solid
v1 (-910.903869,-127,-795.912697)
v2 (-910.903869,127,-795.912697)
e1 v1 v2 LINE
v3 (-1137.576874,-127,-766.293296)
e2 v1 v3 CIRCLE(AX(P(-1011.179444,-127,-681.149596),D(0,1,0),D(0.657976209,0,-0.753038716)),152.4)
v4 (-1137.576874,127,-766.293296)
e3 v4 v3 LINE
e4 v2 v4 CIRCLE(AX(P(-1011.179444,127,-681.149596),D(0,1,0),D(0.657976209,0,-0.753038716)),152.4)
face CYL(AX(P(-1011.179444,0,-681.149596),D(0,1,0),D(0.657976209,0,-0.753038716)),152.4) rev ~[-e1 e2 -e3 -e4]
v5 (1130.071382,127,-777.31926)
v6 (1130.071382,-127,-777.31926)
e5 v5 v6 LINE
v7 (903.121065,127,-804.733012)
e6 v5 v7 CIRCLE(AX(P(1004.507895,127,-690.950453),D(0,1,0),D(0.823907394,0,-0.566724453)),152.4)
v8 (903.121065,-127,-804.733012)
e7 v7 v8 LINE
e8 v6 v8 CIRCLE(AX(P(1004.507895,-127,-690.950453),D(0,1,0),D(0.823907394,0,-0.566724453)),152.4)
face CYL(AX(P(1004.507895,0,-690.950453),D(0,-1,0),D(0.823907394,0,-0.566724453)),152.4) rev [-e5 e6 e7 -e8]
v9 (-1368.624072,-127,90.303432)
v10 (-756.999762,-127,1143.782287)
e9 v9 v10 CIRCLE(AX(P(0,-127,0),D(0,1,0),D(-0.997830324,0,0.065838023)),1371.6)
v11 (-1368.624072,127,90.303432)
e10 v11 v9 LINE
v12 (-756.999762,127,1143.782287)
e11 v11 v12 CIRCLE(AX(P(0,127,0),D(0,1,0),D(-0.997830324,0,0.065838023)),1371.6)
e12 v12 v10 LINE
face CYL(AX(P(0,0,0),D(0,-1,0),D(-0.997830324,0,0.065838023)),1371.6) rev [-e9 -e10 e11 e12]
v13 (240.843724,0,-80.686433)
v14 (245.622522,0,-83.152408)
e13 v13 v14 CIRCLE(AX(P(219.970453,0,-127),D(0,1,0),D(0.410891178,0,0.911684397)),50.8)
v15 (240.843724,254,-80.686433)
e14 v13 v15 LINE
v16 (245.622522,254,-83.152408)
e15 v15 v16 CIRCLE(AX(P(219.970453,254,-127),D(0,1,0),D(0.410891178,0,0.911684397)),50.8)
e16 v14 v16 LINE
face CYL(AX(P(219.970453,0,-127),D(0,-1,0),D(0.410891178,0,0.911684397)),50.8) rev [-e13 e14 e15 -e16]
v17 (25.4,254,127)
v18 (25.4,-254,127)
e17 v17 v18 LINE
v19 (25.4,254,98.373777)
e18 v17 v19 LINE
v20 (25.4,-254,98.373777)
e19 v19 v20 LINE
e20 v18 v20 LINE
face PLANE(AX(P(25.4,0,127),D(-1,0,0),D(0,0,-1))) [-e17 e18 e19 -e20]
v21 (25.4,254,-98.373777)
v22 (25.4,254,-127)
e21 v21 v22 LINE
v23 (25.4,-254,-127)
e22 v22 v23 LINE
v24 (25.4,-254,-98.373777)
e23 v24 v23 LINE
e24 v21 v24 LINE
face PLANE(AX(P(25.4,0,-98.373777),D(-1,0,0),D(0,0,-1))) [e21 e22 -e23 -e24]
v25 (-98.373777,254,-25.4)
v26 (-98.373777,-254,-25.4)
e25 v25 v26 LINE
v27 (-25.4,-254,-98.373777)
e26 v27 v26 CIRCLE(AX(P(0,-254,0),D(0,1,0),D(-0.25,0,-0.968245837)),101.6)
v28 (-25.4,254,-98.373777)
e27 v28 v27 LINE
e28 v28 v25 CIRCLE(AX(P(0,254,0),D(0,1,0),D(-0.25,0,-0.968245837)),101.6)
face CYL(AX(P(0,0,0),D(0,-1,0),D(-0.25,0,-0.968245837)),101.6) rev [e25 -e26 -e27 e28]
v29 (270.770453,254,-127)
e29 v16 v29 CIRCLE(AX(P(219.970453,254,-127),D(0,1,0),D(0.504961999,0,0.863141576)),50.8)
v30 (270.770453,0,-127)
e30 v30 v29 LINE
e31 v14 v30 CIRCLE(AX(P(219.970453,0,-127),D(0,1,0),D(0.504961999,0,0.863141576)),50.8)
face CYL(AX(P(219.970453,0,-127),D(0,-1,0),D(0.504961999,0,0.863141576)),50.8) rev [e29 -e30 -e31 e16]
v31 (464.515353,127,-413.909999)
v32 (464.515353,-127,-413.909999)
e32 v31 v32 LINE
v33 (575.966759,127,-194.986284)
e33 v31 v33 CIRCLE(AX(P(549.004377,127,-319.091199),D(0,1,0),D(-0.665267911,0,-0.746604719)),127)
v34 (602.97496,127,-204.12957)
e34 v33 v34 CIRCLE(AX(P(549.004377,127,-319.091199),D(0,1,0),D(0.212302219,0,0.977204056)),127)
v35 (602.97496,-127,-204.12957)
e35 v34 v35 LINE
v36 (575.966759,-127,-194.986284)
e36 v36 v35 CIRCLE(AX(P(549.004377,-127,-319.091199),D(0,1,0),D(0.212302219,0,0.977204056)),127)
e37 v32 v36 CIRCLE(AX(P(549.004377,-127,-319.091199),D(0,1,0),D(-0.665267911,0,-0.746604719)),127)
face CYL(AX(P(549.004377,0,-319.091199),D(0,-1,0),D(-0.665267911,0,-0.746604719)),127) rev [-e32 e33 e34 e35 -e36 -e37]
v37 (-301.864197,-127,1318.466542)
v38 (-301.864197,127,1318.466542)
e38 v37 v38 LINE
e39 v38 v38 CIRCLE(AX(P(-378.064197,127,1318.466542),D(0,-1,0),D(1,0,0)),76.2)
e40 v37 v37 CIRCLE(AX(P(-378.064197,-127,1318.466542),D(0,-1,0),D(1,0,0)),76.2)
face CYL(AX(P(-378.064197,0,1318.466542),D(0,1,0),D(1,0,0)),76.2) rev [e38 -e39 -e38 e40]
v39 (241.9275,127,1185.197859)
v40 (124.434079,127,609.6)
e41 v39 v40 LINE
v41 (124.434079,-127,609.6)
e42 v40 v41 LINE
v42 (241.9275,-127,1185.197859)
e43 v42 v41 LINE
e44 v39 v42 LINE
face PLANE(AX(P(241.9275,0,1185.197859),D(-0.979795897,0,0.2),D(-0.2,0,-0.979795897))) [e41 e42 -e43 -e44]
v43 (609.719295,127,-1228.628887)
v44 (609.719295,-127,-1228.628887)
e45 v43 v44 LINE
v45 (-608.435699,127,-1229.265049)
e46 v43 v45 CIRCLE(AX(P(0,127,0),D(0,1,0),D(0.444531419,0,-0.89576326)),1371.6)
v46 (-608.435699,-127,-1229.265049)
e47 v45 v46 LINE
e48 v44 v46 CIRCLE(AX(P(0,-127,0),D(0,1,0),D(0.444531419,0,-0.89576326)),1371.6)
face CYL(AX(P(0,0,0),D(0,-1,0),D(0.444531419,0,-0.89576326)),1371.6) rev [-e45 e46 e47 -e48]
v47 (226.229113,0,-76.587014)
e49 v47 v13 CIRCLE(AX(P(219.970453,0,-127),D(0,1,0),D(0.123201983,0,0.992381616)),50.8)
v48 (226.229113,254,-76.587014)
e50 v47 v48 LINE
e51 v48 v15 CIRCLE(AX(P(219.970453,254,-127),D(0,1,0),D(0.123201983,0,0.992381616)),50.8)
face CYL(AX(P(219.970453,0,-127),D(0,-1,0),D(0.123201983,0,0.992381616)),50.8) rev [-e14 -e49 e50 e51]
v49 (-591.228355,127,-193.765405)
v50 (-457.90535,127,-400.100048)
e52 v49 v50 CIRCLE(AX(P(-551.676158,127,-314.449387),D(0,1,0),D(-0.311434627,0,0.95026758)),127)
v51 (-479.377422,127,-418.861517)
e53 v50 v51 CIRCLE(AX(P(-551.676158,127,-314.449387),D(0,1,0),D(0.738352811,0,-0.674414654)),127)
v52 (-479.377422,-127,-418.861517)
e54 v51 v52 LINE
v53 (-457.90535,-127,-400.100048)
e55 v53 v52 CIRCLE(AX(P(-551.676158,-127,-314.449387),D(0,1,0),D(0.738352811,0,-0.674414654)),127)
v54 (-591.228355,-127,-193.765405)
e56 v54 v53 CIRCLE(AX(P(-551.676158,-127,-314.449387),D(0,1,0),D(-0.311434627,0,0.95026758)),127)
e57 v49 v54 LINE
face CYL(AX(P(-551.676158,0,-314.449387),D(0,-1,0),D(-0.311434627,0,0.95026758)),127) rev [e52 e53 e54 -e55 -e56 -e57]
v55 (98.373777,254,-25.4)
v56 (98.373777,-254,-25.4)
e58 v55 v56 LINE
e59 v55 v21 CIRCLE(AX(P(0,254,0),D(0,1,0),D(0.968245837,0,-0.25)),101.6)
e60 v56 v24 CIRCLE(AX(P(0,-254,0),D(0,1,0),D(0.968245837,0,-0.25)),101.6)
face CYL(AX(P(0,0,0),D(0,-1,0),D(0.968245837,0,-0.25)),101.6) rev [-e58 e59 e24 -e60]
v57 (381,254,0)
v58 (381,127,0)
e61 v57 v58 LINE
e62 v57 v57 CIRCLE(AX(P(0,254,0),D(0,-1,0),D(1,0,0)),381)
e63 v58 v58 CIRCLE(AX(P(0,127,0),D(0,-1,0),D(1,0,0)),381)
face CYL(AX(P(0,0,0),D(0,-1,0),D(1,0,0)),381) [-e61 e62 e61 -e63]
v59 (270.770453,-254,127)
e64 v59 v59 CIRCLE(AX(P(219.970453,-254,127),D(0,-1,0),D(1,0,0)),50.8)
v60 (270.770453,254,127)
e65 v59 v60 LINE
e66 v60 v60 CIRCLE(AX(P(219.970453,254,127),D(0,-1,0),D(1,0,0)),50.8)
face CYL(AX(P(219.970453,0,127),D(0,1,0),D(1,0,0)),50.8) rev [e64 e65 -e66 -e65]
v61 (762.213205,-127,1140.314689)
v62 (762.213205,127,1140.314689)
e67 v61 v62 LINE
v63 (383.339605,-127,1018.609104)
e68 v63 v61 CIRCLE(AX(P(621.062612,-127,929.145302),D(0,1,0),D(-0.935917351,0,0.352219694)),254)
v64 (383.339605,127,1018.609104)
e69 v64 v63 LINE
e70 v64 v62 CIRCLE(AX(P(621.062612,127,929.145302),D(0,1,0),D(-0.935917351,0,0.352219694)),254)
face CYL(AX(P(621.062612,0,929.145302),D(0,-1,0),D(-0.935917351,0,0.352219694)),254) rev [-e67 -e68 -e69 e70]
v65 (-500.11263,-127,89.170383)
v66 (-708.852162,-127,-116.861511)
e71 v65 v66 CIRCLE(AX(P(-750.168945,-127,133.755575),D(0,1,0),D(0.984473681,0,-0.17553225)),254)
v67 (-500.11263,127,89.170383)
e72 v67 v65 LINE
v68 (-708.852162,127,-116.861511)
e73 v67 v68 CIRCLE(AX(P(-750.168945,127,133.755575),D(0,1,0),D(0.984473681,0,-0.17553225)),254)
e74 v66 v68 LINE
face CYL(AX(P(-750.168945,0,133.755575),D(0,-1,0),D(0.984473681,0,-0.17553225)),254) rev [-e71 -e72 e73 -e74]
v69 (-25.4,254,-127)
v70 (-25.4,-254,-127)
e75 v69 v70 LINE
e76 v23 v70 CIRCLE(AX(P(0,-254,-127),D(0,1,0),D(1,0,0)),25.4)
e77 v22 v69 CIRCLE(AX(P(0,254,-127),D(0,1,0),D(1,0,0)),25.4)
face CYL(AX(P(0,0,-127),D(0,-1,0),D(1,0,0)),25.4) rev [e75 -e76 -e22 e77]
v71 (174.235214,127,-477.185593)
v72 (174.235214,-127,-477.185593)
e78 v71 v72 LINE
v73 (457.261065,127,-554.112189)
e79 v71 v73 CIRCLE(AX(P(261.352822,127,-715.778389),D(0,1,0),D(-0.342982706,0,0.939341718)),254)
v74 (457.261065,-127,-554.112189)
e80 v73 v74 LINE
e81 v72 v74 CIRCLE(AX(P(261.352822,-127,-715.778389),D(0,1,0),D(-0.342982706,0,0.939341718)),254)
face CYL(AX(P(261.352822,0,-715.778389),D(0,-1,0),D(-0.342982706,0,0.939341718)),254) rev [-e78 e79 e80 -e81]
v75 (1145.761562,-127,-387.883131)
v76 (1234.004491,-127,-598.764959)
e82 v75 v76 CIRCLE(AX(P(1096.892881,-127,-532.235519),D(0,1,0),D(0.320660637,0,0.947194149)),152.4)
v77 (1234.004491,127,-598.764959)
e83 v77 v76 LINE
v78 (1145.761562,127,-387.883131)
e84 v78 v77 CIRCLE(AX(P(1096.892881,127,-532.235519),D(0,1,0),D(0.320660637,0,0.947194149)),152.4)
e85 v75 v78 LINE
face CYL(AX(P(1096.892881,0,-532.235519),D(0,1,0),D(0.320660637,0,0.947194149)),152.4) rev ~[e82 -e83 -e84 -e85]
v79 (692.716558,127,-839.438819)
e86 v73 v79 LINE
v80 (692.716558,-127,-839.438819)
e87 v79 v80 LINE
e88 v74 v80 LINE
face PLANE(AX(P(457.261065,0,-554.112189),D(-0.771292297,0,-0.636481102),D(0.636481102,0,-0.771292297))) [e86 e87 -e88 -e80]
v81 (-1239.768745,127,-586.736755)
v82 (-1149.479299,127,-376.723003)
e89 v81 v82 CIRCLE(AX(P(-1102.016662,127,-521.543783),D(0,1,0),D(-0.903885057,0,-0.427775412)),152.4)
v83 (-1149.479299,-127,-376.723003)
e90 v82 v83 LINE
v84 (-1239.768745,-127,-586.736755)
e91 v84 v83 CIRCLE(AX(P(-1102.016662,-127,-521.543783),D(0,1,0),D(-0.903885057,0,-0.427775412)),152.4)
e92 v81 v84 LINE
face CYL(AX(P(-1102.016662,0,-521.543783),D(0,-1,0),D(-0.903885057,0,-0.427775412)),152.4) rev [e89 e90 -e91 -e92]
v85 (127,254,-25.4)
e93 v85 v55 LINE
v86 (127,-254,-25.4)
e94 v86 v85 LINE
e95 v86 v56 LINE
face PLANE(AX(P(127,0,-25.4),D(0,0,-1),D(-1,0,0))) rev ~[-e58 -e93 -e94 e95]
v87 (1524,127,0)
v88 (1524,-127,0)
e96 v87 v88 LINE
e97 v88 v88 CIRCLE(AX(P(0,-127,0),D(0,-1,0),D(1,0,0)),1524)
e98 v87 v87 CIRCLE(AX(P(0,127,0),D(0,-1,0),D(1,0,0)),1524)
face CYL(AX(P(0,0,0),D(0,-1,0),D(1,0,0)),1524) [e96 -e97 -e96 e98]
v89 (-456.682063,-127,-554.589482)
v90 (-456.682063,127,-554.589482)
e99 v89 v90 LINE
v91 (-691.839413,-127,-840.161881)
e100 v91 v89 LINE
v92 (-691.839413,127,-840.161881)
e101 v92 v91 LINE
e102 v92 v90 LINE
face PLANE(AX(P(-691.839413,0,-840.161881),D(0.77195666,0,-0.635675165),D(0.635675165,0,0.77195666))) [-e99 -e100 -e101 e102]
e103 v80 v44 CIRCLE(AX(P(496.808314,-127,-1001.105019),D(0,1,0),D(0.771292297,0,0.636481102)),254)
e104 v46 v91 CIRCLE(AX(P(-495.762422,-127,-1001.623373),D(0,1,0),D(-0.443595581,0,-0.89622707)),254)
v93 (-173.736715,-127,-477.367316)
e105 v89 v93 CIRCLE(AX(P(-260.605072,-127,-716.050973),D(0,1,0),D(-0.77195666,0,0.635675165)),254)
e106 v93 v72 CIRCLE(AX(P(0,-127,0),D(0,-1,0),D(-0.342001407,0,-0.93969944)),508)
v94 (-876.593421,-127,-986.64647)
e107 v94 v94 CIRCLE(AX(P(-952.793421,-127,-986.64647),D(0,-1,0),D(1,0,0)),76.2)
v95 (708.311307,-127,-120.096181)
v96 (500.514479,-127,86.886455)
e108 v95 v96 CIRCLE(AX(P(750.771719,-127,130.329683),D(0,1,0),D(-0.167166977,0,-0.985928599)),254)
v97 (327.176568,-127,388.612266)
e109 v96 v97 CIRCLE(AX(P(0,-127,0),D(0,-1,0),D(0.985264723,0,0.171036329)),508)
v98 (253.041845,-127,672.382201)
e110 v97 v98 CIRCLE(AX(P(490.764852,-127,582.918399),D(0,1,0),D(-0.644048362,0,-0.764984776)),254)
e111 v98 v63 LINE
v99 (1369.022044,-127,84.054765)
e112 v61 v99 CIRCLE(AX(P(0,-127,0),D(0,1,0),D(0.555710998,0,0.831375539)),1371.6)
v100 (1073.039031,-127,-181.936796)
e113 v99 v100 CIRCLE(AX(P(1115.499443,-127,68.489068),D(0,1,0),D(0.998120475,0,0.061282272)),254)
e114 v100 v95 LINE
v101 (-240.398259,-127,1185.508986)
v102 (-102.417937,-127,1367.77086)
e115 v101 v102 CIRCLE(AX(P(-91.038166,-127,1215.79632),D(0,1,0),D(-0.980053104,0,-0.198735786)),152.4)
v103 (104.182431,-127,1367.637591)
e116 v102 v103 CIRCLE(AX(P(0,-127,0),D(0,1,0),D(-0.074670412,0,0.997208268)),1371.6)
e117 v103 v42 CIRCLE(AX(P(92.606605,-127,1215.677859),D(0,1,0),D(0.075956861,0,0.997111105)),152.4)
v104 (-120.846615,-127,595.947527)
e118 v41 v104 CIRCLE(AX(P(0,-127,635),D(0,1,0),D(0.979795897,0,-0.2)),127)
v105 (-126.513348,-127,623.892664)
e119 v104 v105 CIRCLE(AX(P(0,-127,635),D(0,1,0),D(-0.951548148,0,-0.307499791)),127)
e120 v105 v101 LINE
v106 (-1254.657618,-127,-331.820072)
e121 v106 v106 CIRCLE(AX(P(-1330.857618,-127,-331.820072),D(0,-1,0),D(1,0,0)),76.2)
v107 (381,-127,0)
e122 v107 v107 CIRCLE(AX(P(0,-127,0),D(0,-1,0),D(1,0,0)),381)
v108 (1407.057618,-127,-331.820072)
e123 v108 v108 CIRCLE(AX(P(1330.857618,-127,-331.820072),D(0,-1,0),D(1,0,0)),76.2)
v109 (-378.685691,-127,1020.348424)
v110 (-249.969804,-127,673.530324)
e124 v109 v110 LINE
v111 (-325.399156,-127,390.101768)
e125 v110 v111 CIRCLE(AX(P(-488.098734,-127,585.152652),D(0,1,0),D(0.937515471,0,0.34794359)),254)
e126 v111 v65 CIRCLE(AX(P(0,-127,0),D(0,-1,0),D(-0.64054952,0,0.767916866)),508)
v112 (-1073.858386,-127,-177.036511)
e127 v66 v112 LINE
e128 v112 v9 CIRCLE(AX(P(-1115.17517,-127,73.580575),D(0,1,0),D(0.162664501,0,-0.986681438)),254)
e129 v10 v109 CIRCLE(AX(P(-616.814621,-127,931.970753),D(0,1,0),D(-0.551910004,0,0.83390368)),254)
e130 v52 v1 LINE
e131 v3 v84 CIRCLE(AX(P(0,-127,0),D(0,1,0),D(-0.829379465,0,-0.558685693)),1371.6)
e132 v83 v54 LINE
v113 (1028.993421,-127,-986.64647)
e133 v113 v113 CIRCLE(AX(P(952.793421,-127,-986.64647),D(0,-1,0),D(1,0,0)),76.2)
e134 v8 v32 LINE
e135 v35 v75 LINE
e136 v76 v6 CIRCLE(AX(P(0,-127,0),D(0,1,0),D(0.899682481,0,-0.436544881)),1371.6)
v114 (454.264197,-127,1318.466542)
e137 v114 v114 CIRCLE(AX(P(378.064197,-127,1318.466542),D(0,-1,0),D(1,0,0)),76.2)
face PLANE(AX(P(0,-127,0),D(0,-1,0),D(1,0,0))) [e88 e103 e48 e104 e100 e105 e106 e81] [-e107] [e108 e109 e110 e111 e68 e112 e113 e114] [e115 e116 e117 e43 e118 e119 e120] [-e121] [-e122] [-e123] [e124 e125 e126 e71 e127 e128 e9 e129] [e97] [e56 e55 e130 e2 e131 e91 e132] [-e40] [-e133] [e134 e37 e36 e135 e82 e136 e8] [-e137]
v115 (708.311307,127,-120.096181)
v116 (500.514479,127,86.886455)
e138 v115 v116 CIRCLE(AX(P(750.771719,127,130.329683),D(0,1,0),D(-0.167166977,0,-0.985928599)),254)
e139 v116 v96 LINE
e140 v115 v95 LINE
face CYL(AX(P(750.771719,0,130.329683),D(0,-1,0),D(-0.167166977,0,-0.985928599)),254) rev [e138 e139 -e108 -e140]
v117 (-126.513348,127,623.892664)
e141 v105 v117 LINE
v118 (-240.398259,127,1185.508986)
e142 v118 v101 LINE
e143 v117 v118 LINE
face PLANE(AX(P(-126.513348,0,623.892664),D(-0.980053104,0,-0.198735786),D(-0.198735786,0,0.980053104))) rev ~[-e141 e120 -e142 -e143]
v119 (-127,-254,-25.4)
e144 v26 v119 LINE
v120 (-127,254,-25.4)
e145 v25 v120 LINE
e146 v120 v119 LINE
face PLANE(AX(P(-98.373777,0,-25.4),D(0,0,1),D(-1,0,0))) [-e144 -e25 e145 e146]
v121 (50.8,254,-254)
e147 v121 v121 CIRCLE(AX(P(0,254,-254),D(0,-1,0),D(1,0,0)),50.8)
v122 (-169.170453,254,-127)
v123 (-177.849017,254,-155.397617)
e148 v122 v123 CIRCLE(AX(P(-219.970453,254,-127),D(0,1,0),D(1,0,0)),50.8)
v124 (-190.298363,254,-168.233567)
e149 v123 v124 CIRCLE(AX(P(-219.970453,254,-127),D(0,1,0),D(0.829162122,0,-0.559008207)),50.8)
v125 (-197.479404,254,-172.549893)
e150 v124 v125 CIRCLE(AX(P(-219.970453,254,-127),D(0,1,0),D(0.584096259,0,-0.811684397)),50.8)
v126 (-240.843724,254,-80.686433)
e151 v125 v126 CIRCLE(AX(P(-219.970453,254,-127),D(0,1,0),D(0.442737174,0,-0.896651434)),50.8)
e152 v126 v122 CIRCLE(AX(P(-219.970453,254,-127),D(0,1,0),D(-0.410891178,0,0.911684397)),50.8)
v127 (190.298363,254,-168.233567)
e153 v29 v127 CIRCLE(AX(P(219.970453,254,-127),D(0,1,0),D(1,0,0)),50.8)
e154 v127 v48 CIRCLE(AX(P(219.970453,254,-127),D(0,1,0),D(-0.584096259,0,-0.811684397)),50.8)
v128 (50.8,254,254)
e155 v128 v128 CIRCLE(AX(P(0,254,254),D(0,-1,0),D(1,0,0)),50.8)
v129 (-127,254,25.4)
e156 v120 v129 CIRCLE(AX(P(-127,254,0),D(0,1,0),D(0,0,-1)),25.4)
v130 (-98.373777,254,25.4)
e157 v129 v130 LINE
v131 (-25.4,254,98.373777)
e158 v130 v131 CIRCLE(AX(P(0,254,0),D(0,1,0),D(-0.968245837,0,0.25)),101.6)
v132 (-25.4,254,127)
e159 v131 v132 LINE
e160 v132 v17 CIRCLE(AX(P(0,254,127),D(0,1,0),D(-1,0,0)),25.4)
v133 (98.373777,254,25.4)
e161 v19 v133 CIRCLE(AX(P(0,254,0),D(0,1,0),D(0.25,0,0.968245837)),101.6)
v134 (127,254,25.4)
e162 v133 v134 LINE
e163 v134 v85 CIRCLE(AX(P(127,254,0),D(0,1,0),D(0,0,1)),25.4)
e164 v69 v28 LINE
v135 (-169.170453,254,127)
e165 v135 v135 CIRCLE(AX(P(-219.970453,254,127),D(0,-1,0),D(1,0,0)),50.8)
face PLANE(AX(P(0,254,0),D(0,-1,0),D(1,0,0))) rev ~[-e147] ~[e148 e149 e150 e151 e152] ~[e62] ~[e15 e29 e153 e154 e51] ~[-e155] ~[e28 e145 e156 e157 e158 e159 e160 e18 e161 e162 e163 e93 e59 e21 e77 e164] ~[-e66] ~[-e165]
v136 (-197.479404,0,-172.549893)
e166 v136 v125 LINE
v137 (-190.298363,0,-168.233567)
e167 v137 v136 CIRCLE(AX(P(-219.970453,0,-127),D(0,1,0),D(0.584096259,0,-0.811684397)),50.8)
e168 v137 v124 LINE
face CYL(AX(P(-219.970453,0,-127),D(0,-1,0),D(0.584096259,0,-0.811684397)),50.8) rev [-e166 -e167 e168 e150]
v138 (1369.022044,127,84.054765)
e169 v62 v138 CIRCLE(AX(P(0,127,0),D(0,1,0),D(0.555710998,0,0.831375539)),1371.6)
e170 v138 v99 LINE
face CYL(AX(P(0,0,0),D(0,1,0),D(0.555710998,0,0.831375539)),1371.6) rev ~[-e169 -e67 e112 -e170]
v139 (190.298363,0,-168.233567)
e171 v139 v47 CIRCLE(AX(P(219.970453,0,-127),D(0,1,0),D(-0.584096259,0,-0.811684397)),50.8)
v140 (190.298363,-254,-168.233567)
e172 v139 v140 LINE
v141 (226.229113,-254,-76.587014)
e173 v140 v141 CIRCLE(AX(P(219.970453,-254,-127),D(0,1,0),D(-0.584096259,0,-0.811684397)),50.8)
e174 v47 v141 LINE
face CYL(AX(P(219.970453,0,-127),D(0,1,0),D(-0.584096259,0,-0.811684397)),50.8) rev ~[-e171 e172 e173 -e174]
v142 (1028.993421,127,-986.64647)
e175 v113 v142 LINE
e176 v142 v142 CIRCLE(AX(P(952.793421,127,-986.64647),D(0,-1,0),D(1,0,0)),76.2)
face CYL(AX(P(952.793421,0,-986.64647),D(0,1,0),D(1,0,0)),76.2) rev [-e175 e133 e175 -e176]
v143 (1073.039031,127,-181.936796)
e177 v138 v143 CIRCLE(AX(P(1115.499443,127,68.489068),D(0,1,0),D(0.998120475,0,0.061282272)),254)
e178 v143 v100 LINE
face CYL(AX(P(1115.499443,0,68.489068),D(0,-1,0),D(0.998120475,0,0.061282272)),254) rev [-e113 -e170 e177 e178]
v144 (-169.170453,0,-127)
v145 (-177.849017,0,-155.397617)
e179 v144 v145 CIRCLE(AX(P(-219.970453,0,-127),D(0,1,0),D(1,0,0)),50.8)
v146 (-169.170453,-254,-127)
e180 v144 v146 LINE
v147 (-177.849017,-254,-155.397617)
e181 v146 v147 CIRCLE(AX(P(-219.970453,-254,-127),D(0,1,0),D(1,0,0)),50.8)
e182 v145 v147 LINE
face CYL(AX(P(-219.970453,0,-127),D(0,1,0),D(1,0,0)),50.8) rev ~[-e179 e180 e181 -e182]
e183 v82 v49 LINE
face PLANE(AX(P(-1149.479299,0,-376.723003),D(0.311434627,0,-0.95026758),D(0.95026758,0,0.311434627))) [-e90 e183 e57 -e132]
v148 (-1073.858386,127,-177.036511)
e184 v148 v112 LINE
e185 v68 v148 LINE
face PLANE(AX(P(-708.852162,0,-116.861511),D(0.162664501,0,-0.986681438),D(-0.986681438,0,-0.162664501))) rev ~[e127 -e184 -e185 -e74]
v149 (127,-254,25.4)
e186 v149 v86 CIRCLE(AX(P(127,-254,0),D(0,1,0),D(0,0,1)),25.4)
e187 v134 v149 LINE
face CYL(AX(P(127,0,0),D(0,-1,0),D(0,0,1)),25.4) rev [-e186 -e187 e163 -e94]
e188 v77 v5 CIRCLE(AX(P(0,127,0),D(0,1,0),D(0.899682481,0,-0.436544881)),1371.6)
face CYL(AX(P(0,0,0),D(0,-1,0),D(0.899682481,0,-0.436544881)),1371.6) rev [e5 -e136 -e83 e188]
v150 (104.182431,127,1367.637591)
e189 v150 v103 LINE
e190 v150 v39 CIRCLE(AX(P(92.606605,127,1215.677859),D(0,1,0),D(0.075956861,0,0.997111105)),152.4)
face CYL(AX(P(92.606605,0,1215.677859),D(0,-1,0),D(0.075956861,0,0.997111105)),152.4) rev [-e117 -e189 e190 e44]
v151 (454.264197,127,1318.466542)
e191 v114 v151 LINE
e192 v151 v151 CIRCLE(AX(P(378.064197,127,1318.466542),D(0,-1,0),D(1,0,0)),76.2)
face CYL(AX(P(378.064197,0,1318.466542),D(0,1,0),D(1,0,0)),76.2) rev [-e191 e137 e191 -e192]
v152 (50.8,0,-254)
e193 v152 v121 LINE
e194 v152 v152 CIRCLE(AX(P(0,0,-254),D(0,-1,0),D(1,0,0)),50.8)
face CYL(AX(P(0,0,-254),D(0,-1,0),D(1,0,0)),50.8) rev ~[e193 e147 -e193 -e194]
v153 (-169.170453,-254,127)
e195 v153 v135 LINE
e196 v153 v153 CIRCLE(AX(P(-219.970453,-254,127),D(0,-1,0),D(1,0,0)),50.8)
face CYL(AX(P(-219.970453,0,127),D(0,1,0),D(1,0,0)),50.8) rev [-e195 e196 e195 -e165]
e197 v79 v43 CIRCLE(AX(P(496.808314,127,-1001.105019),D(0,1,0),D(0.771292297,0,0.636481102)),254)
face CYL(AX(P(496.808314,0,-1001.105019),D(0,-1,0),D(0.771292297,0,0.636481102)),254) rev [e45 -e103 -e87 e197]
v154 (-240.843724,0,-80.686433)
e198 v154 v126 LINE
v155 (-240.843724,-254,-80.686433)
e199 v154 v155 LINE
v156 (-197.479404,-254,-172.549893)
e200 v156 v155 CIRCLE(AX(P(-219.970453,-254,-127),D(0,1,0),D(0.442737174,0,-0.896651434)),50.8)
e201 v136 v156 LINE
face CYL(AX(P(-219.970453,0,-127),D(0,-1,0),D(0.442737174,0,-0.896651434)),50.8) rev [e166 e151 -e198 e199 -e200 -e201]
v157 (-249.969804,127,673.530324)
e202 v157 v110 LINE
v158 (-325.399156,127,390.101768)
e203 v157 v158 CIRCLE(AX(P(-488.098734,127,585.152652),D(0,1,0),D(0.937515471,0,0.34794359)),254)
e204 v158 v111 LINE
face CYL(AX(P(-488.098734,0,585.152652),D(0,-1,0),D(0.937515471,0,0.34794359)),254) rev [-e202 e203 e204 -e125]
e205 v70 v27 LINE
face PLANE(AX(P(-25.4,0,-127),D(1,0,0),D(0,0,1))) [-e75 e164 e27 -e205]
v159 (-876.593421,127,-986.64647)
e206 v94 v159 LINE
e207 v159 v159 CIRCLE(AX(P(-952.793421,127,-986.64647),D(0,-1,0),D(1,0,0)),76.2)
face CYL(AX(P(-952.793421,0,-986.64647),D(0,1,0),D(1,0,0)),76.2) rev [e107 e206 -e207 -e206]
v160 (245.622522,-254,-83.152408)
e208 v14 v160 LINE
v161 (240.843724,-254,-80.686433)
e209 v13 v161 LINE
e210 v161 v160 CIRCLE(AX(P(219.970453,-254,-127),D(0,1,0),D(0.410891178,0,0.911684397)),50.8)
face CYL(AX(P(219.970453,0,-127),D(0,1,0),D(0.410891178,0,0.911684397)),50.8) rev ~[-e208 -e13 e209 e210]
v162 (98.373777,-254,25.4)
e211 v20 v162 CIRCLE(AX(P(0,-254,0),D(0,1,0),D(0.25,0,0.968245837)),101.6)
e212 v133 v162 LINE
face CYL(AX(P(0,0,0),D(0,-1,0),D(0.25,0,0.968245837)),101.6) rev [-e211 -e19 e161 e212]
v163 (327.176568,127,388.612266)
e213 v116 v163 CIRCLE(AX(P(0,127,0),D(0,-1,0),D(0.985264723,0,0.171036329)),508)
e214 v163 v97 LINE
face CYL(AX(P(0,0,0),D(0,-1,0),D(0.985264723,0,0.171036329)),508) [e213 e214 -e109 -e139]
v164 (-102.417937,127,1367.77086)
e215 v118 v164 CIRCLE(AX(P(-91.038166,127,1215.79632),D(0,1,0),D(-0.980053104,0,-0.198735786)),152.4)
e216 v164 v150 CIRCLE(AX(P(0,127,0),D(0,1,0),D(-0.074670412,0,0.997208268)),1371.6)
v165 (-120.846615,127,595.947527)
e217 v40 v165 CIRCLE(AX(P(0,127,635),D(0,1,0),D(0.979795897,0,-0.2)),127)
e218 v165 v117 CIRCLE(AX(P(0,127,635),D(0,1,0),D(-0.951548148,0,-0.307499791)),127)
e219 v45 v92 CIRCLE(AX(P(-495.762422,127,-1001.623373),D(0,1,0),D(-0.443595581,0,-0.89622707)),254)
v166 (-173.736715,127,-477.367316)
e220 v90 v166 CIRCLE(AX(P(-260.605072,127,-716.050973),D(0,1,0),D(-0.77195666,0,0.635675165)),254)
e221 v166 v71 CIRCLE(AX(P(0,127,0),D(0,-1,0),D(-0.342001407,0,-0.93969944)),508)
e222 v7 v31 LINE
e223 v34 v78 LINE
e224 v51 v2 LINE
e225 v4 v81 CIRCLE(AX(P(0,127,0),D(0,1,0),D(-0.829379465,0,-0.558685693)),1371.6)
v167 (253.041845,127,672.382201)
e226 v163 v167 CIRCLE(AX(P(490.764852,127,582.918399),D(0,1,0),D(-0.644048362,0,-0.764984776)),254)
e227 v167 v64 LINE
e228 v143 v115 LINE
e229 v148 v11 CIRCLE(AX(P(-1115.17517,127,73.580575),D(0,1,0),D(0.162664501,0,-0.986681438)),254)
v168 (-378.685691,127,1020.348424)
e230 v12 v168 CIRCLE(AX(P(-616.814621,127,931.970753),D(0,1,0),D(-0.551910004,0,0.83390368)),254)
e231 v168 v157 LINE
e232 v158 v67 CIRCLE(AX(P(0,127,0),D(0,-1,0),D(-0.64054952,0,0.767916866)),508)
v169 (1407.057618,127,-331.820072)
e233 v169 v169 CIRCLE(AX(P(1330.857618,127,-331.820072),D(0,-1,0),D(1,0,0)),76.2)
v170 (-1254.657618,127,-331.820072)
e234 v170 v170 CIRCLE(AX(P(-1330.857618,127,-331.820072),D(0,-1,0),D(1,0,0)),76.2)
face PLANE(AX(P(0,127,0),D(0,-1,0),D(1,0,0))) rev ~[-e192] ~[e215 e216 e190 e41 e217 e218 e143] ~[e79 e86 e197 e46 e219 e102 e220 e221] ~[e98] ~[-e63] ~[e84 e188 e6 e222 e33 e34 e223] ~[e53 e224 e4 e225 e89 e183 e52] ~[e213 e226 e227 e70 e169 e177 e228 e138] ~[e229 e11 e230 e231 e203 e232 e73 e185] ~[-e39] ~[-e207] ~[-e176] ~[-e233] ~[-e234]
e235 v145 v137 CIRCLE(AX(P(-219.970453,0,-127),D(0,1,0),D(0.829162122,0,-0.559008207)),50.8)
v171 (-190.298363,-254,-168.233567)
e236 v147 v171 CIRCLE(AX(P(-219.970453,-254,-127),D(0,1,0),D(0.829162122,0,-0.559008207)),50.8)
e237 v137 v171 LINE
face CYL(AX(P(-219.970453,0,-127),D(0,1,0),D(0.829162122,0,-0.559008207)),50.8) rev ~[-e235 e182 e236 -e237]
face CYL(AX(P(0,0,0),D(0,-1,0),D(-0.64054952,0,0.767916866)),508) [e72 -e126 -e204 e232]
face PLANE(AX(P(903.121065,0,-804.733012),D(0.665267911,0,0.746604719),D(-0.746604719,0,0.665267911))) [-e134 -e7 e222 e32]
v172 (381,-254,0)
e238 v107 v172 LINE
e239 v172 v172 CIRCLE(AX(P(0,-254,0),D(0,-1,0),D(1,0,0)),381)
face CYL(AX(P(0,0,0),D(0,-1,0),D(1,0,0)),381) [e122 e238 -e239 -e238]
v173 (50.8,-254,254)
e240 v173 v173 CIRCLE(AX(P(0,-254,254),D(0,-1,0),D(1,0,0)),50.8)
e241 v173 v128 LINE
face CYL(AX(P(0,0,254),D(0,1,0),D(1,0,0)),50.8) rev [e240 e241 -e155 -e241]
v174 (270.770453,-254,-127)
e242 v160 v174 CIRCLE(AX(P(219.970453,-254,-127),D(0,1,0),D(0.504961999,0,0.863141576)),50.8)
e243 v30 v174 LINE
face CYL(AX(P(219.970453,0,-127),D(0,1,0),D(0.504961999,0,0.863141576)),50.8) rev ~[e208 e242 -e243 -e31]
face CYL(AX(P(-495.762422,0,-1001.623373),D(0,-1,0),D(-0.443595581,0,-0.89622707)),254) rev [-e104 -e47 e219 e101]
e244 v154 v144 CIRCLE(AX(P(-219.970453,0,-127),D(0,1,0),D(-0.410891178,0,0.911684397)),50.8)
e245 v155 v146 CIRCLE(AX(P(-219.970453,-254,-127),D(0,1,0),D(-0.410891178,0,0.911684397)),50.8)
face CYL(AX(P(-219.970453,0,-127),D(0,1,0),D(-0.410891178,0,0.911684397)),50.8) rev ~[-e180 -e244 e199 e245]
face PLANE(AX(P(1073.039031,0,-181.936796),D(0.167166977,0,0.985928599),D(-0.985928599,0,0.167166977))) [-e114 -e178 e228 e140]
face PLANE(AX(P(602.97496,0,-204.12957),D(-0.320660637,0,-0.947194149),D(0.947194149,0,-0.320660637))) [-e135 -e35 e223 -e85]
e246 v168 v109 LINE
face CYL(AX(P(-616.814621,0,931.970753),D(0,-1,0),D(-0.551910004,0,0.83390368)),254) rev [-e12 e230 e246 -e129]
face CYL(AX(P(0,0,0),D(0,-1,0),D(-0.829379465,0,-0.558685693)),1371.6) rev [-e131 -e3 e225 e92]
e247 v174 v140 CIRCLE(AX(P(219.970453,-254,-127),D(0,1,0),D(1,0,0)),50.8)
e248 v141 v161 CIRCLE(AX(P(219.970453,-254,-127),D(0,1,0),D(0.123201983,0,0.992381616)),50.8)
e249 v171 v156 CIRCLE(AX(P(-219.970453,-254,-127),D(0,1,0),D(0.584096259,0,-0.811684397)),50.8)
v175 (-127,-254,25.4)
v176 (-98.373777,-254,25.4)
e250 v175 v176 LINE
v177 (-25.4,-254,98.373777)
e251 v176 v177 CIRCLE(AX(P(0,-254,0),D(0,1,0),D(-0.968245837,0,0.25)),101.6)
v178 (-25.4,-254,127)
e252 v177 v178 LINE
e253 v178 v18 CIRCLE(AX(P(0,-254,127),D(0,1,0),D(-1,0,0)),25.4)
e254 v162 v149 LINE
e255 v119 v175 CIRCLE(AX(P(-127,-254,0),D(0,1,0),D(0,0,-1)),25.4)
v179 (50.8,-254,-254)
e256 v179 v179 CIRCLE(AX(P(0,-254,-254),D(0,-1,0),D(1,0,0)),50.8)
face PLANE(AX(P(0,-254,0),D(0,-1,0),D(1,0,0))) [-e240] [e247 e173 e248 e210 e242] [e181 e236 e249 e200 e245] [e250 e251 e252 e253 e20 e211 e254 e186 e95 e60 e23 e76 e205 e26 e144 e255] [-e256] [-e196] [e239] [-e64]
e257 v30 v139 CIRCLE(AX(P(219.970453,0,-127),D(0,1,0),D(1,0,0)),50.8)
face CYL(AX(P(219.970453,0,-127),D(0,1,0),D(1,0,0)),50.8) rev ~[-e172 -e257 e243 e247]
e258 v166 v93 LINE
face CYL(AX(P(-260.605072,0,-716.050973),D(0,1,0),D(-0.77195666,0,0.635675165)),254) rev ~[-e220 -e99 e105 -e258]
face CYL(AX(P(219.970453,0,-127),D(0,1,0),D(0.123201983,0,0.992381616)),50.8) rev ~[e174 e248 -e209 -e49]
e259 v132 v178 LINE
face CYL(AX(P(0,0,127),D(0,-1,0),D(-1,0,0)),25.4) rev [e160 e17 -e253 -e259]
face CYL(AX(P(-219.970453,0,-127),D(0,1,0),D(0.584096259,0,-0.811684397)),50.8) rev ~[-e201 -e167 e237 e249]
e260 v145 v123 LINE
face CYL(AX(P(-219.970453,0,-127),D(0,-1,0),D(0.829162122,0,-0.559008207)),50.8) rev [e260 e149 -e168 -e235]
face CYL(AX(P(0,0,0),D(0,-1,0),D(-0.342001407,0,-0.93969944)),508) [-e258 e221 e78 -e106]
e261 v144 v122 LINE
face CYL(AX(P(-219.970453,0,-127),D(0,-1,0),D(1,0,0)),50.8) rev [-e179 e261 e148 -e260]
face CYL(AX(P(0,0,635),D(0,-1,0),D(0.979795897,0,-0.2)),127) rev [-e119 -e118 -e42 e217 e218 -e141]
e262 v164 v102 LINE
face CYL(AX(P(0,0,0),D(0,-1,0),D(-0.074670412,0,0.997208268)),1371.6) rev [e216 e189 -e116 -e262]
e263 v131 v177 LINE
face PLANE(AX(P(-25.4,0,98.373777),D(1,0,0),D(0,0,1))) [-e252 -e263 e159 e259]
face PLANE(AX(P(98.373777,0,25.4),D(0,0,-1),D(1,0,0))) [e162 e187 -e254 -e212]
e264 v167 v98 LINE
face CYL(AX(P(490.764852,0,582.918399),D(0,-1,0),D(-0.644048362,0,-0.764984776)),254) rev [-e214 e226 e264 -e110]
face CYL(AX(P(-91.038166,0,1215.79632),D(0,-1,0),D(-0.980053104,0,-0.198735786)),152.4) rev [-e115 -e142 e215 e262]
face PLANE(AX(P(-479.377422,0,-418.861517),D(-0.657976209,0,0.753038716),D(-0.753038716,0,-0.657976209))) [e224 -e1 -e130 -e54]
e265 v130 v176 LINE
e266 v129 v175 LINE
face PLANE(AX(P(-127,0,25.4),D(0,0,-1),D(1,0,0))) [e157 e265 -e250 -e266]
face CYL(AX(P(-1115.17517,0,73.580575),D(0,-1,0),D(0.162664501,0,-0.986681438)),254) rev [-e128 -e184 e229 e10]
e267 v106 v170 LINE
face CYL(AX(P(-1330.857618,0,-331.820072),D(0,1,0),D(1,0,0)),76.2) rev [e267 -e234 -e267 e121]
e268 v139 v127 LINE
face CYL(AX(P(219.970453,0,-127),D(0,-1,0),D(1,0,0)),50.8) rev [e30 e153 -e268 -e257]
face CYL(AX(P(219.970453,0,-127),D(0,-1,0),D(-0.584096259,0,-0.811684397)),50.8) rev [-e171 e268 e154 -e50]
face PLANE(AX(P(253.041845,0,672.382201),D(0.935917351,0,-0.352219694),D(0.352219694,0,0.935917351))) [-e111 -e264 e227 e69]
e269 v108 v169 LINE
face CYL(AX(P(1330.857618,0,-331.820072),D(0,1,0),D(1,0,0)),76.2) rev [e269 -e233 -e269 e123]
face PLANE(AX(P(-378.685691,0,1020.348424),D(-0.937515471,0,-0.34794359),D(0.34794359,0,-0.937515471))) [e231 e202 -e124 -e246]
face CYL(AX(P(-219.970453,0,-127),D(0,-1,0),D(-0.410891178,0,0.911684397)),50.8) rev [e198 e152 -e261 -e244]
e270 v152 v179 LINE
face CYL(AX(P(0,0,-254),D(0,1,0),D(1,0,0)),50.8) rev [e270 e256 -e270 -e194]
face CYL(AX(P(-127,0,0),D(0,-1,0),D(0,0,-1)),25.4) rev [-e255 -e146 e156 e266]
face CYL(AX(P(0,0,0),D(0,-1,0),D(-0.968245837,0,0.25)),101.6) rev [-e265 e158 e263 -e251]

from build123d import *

# Parameters (mm, degrees)
F0_R     = 1524
F0_R_2   = 76.2
F0_R_3   = 381
F1_DEPTH = 127
F0_R_4   = 50.8
F2_DEPTH = 254


with BuildPart() as f1:
    # F0 (on Front) → F1 (new body, symmetric)
    with BuildSketch(Plane.XZ):
        Circle(F0_R)
        with Locations((-952.7934209216, -986.6464701445)):
            Circle(F0_R_2, mode=Mode.SUBTRACT)
        with BuildLine():
            ThreePointArc((-457.9053504594, -400.1000484938), (-468.1131789064, -410.085304333), (-479.3774223299, -418.8615174044))
            Line((-479.3774223299, -418.8615174044), (-910.9038693797, -795.912696688))
            ThreePointArc((-910.9038693797, -795.912696688), (-1030.9257108821, -832.2649328935), (-1137.576874164, -766.2932959169))
            ThreePointArc((-1137.576874164, -766.2932959169), (-1192.0583817441, -678.4418726123), (-1239.7687445234, -586.7367553707))
            ThreePointArc((-1239.7687445234, -586.7367553707), (-1242.0258297805, -461.3508188351), (-1149.4792989484, -376.7230033977))
            Line((-1149.4792989484, -376.7230033977), (-591.2283551327, -193.7654047735))
            ThreePointArc((-591.2283551327, -193.7654047735), (-445.0065240513, -245.5248685551), (-457.9053504594, -400.1000484938))
        make_face(mode=Mode.SUBTRACT)
        with Locations((-1330.8576181602, -331.8200720045)):
            Circle(F0_R_2, mode=Mode.SUBTRACT)
        with BuildLine():
            ThreePointArc((609.719294749, -1228.6288868535), (0.7162959224, -1371.599812963), (-608.4356992081, -1229.2650486893))
            ThreePointArc((-608.4356992081, -1229.2650486893), (-744.1210351679, -1054.858690749), (-691.8394131488, -840.1618810765))
            Line((-691.8394131488, -840.1618810765), (-456.6820633758, -554.5894815003))
            ThreePointArc((-456.6820633758, -554.5894815003), (-327.4814291916, -471.0131134521), (-173.736714536, -477.36731562))
            ThreePointArc((-173.736714536, -477.36731562), (0.2652947861, -507.999930727), (174.2352144261, -477.1855928817))
            ThreePointArc((174.2352144261, -477.1855928817), (327.973208463, -470.670812819), (457.2610649757, -554.1121894141))
            Line((457.2610649757, -554.1121894141), (692.7165575763, -839.4388190092))
            ThreePointArc((692.7165575763, -839.4388190092), (745.2223949223, -1054.080905118), (609.719294749, -1228.6288868535))
        make_face(mode=Mode.SUBTRACT)
        with Locations((952.7934209216, -986.6464701445)):
            Circle(F0_R_2, mode=Mode.SUBTRACT)
        with BuildLine():
            ThreePointArc((575.96675921, -194.9862843103), (589.7282782587, -198.7975425346), (602.9749600018, -204.1295701581))
            Line((602.9749600018, -204.1295701581), (1145.7615620175, -387.883130599))
            ThreePointArc((1145.7615620175, -387.883130599), (1237.4807664643, -473.4068995198), (1234.0044911274, -598.7649587922))
            ThreePointArc((1234.0044911274, -598.7649587922), (1185.4046115117, -690.0017876837), (1130.0713819235, -777.3192598652))
            ThreePointArc((1130.0713819235, -777.3192598652), (1022.7837300633, -842.2506642323), (903.1210653954, -804.7330123954))
            Line((903.1210653954, -804.7330123954), (464.5153527062, -413.9099987923))
            ThreePointArc((464.5153527062, -413.9099987923), (435.8265224597, -261.4737268789), (575.96675921, -194.9862843103))
        make_face(mode=Mode.SUBTRACT)
        with Locations((1330.8576181602, -331.8200720045)):
            Circle(F0_R_2, mode=Mode.SUBTRACT)
        with BuildLine():
            ThreePointArc((-249.9698044747, 673.5303236313), (-242.6424045618, 519.8289170657), (-325.3991560413, 390.1017678089))
            ThreePointArc((-325.3991560413, 390.1017678089), (-439.326020006, 255.0620476389), (-500.112630106, 89.1703830232))
            ThreePointArc((-500.112630106, 89.1703830232), (-571.7400911999, -47.0181627029), (-708.8521618191, -116.8615107058))
            Line((-708.8521618191, -116.8615107058), (-1073.858386329, -177.0365106716))
            ThreePointArc((-1073.858386329, -177.0365106716), (-1285.8141753404, -114.5638639443), (-1368.6240718664, 90.3034324255))
            ThreePointArc((-1368.6240718664, 90.3034324255), (-1186.1802540161, 688.6675286249), (-756.9997618876, 1143.7822871955))
            ThreePointArc((-756.9997618876, 1143.7822871955), (-538.0286699907, 1173.4428502045), (-378.6856912101, 1020.3484244476))
            Line((-378.6856912101, 1020.3484244476), (-249.9698044747, 673.5303236313))
        make_face(mode=Mode.SUBTRACT)
        with Locations((-378.0641972386, 1318.466542149)):
            Circle(F0_R_2, mode=Mode.SUBTRACT)
        Circle(F0_R_3, mode=Mode.SUBTRACT)
        with BuildLine():
            ThreePointArc((327.1765680913, 388.6122660082), (245.0128793387, 518.7158455912), (253.0418450906, 672.382201306))
            Line((253.0418450906, 672.382201306), (383.3396046157, 1018.6091043836))
            ThreePointArc((383.3396046157, 1018.6091043836), (543.3797944563, 1170.9745391787), (762.2132052215, 1140.3146889284))
            ThreePointArc((762.2132052215, 1140.3146889284), (1189.3116406372, 683.2454767101), (1369.0220438397, 84.0547647718))
            ThreePointArc((1369.0220438397, 84.0547647718), (1285.2777972555, -120.4323723507), (1073.039031015, -181.936796494))
            Line((1073.039031015, -181.936796494), (708.3113067184, -120.0961813504))
            ThreePointArc((708.3113067184, -120.0961813504), (571.5194974744, -49.6276487027), (500.5144792214, 86.886455157))
            ThreePointArc((500.5144792214, 86.886455157), (440.4857928286, 253.053880263), (327.1765680913, 388.6122660082))
        make_face(mode=Mode.SUBTRACT)
        with BuildLine():
            ThreePointArc((124.4340789334, 609.6), (7.0579729459, 508.1962736435), (-120.8466148532, 595.9475266016))
            ThreePointArc((-120.8466148532, 595.9475266016), (-124.4667442567, 609.7605551935), (-126.5133475018, 623.8926644111))
            Line((-126.5133475018, 623.8926644111), (-240.3982590742, 1185.5089864839))
            ThreePointArc((-240.3982590742, 1185.5089864839), (-212.5460818323, 1307.7832018265), (-102.4179367119, 1367.7708602831))
            ThreePointArc((-102.4179367119, 1367.7708602831), (0.8847598606, 1371.5997146398), (104.1824308091, 1367.6375912904))
            ThreePointArc((104.1824308091, 1367.6375912904), (214.2330934074, 1307.5079049746), (241.9274998837, 1185.1978589248))
            Line((241.9274998837, 1185.1978589248), (124.4340789334, 609.6))
        make_face(mode=Mode.SUBTRACT)
        with Locations((378.0641972386, 1318.466542149)):
            Circle(F0_R_2, mode=Mode.SUBTRACT)
    extrude(amount=F1_DEPTH, both=True)

    # F0 (on Front) → F2 (join, symmetric)
    with BuildSketch(Plane.XZ):
        Circle(F0_R_3)
        with BuildLine():
            ThreePointArc((-240.8437244125, -80.6864326334), (-192.399836047, -84.3326693473), (-169.1704525612, -127))
            ThreePointArc((-169.1704525612, -127), (-171.3885169329, -141.8470714488), (-177.8490167583, -155.3976169053))
            ThreePointArc((-177.8490167583, -155.3976169053), (-183.5044685322, -162.367668976), (-190.2983626075, -168.2335673666))
            ThreePointArc((-190.2983626075, -168.2335673666), (-193.7997453034, -170.5400284982), (-197.4794041151, -172.5498928626))
            ThreePointArc((-197.4794041151, -172.5498928626), (-265.909304654, -148.685522092), (-240.8437244125, -80.6864326334))
        make_face(mode=Mode.SUBTRACT)
        with Locations((0, -254)):
            Circle(F0_R_4, mode=Mode.SUBTRACT)
        with BuildLine():
            ThreePointArc((245.6225220887, -83.1524079457), (264.0372491999, -101.7263490171), (270.7704525612, -127))
            ThreePointArc((270.7704525612, -127), (243.136136561, -172.2105196257), (190.2983626075, -168.2335673666))
            ThreePointArc((190.2983626075, -168.2335673666), (172.6754226226, -108.45761226), (226.2291132873, -76.5870139159))
            ThreePointArc((226.2291132873, -76.5870139159), (233.6903924227, -78.0878005995), (240.8437244125, -80.6864326334))
            ThreePointArc((240.8437244125, -80.6864326334), (243.2657762585, -81.8561422358), (245.6225220887, -83.1524079457))
        make_face(mode=Mode.SUBTRACT)
        with Locations((-219.9704525612, 127)):
            Circle(F0_R_4, mode=Mode.SUBTRACT)
        with BuildLine():
            ThreePointArc((-98.3737769937, 25.4), (-71.8420489686, 71.8420489686), (-25.4, 98.3737769937))
            Line((-25.4, 98.3737769937), (-25.4, 127))
            ThreePointArc((-25.4, 127), (0, 152.4), (25.4, 127))
            Line((25.4, 127), (25.4, 98.3737769937))
            ThreePointArc((25.4, 98.3737769937), (71.8420489686, 71.8420489686), (98.3737769937, 25.4))
            Line((98.3737769937, 25.4), (127, 25.4))
            ThreePointArc((127, 25.4), (152.4, 0), (127, -25.4))
            Line((127, -25.4), (98.3737769937, -25.4))
            ThreePointArc((98.3737769937, -25.4), (71.8420489686, -71.8420489686), (25.4, -98.3737769937))
            Line((25.4, -98.3737769937), (25.4, -127))
            ThreePointArc((25.4, -127), (0, -152.4), (-25.4, -127))
            Line((-25.4, -127), (-25.4, -98.3737769937))
            ThreePointArc((-25.4, -98.3737769937), (-71.8420489686, -71.8420489686), (-98.3737769937, -25.4))
            Line((-98.3737769937, -25.4), (-127, -25.4))
            ThreePointArc((-127, -25.4), (-152.4, 0), (-127, 25.4))
            Line((-127, 25.4), (-98.3737769937, 25.4))
        make_face(mode=Mode.SUBTRACT)
        with Locations((219.9704525612, 127)):
            Circle(F0_R_4, mode=Mode.SUBTRACT)
        with Locations((0, 254)):
            Circle(F0_R_4, mode=Mode.SUBTRACT)
    extrude(amount=F2_DEPTH, both=True)


solid = f1.part
